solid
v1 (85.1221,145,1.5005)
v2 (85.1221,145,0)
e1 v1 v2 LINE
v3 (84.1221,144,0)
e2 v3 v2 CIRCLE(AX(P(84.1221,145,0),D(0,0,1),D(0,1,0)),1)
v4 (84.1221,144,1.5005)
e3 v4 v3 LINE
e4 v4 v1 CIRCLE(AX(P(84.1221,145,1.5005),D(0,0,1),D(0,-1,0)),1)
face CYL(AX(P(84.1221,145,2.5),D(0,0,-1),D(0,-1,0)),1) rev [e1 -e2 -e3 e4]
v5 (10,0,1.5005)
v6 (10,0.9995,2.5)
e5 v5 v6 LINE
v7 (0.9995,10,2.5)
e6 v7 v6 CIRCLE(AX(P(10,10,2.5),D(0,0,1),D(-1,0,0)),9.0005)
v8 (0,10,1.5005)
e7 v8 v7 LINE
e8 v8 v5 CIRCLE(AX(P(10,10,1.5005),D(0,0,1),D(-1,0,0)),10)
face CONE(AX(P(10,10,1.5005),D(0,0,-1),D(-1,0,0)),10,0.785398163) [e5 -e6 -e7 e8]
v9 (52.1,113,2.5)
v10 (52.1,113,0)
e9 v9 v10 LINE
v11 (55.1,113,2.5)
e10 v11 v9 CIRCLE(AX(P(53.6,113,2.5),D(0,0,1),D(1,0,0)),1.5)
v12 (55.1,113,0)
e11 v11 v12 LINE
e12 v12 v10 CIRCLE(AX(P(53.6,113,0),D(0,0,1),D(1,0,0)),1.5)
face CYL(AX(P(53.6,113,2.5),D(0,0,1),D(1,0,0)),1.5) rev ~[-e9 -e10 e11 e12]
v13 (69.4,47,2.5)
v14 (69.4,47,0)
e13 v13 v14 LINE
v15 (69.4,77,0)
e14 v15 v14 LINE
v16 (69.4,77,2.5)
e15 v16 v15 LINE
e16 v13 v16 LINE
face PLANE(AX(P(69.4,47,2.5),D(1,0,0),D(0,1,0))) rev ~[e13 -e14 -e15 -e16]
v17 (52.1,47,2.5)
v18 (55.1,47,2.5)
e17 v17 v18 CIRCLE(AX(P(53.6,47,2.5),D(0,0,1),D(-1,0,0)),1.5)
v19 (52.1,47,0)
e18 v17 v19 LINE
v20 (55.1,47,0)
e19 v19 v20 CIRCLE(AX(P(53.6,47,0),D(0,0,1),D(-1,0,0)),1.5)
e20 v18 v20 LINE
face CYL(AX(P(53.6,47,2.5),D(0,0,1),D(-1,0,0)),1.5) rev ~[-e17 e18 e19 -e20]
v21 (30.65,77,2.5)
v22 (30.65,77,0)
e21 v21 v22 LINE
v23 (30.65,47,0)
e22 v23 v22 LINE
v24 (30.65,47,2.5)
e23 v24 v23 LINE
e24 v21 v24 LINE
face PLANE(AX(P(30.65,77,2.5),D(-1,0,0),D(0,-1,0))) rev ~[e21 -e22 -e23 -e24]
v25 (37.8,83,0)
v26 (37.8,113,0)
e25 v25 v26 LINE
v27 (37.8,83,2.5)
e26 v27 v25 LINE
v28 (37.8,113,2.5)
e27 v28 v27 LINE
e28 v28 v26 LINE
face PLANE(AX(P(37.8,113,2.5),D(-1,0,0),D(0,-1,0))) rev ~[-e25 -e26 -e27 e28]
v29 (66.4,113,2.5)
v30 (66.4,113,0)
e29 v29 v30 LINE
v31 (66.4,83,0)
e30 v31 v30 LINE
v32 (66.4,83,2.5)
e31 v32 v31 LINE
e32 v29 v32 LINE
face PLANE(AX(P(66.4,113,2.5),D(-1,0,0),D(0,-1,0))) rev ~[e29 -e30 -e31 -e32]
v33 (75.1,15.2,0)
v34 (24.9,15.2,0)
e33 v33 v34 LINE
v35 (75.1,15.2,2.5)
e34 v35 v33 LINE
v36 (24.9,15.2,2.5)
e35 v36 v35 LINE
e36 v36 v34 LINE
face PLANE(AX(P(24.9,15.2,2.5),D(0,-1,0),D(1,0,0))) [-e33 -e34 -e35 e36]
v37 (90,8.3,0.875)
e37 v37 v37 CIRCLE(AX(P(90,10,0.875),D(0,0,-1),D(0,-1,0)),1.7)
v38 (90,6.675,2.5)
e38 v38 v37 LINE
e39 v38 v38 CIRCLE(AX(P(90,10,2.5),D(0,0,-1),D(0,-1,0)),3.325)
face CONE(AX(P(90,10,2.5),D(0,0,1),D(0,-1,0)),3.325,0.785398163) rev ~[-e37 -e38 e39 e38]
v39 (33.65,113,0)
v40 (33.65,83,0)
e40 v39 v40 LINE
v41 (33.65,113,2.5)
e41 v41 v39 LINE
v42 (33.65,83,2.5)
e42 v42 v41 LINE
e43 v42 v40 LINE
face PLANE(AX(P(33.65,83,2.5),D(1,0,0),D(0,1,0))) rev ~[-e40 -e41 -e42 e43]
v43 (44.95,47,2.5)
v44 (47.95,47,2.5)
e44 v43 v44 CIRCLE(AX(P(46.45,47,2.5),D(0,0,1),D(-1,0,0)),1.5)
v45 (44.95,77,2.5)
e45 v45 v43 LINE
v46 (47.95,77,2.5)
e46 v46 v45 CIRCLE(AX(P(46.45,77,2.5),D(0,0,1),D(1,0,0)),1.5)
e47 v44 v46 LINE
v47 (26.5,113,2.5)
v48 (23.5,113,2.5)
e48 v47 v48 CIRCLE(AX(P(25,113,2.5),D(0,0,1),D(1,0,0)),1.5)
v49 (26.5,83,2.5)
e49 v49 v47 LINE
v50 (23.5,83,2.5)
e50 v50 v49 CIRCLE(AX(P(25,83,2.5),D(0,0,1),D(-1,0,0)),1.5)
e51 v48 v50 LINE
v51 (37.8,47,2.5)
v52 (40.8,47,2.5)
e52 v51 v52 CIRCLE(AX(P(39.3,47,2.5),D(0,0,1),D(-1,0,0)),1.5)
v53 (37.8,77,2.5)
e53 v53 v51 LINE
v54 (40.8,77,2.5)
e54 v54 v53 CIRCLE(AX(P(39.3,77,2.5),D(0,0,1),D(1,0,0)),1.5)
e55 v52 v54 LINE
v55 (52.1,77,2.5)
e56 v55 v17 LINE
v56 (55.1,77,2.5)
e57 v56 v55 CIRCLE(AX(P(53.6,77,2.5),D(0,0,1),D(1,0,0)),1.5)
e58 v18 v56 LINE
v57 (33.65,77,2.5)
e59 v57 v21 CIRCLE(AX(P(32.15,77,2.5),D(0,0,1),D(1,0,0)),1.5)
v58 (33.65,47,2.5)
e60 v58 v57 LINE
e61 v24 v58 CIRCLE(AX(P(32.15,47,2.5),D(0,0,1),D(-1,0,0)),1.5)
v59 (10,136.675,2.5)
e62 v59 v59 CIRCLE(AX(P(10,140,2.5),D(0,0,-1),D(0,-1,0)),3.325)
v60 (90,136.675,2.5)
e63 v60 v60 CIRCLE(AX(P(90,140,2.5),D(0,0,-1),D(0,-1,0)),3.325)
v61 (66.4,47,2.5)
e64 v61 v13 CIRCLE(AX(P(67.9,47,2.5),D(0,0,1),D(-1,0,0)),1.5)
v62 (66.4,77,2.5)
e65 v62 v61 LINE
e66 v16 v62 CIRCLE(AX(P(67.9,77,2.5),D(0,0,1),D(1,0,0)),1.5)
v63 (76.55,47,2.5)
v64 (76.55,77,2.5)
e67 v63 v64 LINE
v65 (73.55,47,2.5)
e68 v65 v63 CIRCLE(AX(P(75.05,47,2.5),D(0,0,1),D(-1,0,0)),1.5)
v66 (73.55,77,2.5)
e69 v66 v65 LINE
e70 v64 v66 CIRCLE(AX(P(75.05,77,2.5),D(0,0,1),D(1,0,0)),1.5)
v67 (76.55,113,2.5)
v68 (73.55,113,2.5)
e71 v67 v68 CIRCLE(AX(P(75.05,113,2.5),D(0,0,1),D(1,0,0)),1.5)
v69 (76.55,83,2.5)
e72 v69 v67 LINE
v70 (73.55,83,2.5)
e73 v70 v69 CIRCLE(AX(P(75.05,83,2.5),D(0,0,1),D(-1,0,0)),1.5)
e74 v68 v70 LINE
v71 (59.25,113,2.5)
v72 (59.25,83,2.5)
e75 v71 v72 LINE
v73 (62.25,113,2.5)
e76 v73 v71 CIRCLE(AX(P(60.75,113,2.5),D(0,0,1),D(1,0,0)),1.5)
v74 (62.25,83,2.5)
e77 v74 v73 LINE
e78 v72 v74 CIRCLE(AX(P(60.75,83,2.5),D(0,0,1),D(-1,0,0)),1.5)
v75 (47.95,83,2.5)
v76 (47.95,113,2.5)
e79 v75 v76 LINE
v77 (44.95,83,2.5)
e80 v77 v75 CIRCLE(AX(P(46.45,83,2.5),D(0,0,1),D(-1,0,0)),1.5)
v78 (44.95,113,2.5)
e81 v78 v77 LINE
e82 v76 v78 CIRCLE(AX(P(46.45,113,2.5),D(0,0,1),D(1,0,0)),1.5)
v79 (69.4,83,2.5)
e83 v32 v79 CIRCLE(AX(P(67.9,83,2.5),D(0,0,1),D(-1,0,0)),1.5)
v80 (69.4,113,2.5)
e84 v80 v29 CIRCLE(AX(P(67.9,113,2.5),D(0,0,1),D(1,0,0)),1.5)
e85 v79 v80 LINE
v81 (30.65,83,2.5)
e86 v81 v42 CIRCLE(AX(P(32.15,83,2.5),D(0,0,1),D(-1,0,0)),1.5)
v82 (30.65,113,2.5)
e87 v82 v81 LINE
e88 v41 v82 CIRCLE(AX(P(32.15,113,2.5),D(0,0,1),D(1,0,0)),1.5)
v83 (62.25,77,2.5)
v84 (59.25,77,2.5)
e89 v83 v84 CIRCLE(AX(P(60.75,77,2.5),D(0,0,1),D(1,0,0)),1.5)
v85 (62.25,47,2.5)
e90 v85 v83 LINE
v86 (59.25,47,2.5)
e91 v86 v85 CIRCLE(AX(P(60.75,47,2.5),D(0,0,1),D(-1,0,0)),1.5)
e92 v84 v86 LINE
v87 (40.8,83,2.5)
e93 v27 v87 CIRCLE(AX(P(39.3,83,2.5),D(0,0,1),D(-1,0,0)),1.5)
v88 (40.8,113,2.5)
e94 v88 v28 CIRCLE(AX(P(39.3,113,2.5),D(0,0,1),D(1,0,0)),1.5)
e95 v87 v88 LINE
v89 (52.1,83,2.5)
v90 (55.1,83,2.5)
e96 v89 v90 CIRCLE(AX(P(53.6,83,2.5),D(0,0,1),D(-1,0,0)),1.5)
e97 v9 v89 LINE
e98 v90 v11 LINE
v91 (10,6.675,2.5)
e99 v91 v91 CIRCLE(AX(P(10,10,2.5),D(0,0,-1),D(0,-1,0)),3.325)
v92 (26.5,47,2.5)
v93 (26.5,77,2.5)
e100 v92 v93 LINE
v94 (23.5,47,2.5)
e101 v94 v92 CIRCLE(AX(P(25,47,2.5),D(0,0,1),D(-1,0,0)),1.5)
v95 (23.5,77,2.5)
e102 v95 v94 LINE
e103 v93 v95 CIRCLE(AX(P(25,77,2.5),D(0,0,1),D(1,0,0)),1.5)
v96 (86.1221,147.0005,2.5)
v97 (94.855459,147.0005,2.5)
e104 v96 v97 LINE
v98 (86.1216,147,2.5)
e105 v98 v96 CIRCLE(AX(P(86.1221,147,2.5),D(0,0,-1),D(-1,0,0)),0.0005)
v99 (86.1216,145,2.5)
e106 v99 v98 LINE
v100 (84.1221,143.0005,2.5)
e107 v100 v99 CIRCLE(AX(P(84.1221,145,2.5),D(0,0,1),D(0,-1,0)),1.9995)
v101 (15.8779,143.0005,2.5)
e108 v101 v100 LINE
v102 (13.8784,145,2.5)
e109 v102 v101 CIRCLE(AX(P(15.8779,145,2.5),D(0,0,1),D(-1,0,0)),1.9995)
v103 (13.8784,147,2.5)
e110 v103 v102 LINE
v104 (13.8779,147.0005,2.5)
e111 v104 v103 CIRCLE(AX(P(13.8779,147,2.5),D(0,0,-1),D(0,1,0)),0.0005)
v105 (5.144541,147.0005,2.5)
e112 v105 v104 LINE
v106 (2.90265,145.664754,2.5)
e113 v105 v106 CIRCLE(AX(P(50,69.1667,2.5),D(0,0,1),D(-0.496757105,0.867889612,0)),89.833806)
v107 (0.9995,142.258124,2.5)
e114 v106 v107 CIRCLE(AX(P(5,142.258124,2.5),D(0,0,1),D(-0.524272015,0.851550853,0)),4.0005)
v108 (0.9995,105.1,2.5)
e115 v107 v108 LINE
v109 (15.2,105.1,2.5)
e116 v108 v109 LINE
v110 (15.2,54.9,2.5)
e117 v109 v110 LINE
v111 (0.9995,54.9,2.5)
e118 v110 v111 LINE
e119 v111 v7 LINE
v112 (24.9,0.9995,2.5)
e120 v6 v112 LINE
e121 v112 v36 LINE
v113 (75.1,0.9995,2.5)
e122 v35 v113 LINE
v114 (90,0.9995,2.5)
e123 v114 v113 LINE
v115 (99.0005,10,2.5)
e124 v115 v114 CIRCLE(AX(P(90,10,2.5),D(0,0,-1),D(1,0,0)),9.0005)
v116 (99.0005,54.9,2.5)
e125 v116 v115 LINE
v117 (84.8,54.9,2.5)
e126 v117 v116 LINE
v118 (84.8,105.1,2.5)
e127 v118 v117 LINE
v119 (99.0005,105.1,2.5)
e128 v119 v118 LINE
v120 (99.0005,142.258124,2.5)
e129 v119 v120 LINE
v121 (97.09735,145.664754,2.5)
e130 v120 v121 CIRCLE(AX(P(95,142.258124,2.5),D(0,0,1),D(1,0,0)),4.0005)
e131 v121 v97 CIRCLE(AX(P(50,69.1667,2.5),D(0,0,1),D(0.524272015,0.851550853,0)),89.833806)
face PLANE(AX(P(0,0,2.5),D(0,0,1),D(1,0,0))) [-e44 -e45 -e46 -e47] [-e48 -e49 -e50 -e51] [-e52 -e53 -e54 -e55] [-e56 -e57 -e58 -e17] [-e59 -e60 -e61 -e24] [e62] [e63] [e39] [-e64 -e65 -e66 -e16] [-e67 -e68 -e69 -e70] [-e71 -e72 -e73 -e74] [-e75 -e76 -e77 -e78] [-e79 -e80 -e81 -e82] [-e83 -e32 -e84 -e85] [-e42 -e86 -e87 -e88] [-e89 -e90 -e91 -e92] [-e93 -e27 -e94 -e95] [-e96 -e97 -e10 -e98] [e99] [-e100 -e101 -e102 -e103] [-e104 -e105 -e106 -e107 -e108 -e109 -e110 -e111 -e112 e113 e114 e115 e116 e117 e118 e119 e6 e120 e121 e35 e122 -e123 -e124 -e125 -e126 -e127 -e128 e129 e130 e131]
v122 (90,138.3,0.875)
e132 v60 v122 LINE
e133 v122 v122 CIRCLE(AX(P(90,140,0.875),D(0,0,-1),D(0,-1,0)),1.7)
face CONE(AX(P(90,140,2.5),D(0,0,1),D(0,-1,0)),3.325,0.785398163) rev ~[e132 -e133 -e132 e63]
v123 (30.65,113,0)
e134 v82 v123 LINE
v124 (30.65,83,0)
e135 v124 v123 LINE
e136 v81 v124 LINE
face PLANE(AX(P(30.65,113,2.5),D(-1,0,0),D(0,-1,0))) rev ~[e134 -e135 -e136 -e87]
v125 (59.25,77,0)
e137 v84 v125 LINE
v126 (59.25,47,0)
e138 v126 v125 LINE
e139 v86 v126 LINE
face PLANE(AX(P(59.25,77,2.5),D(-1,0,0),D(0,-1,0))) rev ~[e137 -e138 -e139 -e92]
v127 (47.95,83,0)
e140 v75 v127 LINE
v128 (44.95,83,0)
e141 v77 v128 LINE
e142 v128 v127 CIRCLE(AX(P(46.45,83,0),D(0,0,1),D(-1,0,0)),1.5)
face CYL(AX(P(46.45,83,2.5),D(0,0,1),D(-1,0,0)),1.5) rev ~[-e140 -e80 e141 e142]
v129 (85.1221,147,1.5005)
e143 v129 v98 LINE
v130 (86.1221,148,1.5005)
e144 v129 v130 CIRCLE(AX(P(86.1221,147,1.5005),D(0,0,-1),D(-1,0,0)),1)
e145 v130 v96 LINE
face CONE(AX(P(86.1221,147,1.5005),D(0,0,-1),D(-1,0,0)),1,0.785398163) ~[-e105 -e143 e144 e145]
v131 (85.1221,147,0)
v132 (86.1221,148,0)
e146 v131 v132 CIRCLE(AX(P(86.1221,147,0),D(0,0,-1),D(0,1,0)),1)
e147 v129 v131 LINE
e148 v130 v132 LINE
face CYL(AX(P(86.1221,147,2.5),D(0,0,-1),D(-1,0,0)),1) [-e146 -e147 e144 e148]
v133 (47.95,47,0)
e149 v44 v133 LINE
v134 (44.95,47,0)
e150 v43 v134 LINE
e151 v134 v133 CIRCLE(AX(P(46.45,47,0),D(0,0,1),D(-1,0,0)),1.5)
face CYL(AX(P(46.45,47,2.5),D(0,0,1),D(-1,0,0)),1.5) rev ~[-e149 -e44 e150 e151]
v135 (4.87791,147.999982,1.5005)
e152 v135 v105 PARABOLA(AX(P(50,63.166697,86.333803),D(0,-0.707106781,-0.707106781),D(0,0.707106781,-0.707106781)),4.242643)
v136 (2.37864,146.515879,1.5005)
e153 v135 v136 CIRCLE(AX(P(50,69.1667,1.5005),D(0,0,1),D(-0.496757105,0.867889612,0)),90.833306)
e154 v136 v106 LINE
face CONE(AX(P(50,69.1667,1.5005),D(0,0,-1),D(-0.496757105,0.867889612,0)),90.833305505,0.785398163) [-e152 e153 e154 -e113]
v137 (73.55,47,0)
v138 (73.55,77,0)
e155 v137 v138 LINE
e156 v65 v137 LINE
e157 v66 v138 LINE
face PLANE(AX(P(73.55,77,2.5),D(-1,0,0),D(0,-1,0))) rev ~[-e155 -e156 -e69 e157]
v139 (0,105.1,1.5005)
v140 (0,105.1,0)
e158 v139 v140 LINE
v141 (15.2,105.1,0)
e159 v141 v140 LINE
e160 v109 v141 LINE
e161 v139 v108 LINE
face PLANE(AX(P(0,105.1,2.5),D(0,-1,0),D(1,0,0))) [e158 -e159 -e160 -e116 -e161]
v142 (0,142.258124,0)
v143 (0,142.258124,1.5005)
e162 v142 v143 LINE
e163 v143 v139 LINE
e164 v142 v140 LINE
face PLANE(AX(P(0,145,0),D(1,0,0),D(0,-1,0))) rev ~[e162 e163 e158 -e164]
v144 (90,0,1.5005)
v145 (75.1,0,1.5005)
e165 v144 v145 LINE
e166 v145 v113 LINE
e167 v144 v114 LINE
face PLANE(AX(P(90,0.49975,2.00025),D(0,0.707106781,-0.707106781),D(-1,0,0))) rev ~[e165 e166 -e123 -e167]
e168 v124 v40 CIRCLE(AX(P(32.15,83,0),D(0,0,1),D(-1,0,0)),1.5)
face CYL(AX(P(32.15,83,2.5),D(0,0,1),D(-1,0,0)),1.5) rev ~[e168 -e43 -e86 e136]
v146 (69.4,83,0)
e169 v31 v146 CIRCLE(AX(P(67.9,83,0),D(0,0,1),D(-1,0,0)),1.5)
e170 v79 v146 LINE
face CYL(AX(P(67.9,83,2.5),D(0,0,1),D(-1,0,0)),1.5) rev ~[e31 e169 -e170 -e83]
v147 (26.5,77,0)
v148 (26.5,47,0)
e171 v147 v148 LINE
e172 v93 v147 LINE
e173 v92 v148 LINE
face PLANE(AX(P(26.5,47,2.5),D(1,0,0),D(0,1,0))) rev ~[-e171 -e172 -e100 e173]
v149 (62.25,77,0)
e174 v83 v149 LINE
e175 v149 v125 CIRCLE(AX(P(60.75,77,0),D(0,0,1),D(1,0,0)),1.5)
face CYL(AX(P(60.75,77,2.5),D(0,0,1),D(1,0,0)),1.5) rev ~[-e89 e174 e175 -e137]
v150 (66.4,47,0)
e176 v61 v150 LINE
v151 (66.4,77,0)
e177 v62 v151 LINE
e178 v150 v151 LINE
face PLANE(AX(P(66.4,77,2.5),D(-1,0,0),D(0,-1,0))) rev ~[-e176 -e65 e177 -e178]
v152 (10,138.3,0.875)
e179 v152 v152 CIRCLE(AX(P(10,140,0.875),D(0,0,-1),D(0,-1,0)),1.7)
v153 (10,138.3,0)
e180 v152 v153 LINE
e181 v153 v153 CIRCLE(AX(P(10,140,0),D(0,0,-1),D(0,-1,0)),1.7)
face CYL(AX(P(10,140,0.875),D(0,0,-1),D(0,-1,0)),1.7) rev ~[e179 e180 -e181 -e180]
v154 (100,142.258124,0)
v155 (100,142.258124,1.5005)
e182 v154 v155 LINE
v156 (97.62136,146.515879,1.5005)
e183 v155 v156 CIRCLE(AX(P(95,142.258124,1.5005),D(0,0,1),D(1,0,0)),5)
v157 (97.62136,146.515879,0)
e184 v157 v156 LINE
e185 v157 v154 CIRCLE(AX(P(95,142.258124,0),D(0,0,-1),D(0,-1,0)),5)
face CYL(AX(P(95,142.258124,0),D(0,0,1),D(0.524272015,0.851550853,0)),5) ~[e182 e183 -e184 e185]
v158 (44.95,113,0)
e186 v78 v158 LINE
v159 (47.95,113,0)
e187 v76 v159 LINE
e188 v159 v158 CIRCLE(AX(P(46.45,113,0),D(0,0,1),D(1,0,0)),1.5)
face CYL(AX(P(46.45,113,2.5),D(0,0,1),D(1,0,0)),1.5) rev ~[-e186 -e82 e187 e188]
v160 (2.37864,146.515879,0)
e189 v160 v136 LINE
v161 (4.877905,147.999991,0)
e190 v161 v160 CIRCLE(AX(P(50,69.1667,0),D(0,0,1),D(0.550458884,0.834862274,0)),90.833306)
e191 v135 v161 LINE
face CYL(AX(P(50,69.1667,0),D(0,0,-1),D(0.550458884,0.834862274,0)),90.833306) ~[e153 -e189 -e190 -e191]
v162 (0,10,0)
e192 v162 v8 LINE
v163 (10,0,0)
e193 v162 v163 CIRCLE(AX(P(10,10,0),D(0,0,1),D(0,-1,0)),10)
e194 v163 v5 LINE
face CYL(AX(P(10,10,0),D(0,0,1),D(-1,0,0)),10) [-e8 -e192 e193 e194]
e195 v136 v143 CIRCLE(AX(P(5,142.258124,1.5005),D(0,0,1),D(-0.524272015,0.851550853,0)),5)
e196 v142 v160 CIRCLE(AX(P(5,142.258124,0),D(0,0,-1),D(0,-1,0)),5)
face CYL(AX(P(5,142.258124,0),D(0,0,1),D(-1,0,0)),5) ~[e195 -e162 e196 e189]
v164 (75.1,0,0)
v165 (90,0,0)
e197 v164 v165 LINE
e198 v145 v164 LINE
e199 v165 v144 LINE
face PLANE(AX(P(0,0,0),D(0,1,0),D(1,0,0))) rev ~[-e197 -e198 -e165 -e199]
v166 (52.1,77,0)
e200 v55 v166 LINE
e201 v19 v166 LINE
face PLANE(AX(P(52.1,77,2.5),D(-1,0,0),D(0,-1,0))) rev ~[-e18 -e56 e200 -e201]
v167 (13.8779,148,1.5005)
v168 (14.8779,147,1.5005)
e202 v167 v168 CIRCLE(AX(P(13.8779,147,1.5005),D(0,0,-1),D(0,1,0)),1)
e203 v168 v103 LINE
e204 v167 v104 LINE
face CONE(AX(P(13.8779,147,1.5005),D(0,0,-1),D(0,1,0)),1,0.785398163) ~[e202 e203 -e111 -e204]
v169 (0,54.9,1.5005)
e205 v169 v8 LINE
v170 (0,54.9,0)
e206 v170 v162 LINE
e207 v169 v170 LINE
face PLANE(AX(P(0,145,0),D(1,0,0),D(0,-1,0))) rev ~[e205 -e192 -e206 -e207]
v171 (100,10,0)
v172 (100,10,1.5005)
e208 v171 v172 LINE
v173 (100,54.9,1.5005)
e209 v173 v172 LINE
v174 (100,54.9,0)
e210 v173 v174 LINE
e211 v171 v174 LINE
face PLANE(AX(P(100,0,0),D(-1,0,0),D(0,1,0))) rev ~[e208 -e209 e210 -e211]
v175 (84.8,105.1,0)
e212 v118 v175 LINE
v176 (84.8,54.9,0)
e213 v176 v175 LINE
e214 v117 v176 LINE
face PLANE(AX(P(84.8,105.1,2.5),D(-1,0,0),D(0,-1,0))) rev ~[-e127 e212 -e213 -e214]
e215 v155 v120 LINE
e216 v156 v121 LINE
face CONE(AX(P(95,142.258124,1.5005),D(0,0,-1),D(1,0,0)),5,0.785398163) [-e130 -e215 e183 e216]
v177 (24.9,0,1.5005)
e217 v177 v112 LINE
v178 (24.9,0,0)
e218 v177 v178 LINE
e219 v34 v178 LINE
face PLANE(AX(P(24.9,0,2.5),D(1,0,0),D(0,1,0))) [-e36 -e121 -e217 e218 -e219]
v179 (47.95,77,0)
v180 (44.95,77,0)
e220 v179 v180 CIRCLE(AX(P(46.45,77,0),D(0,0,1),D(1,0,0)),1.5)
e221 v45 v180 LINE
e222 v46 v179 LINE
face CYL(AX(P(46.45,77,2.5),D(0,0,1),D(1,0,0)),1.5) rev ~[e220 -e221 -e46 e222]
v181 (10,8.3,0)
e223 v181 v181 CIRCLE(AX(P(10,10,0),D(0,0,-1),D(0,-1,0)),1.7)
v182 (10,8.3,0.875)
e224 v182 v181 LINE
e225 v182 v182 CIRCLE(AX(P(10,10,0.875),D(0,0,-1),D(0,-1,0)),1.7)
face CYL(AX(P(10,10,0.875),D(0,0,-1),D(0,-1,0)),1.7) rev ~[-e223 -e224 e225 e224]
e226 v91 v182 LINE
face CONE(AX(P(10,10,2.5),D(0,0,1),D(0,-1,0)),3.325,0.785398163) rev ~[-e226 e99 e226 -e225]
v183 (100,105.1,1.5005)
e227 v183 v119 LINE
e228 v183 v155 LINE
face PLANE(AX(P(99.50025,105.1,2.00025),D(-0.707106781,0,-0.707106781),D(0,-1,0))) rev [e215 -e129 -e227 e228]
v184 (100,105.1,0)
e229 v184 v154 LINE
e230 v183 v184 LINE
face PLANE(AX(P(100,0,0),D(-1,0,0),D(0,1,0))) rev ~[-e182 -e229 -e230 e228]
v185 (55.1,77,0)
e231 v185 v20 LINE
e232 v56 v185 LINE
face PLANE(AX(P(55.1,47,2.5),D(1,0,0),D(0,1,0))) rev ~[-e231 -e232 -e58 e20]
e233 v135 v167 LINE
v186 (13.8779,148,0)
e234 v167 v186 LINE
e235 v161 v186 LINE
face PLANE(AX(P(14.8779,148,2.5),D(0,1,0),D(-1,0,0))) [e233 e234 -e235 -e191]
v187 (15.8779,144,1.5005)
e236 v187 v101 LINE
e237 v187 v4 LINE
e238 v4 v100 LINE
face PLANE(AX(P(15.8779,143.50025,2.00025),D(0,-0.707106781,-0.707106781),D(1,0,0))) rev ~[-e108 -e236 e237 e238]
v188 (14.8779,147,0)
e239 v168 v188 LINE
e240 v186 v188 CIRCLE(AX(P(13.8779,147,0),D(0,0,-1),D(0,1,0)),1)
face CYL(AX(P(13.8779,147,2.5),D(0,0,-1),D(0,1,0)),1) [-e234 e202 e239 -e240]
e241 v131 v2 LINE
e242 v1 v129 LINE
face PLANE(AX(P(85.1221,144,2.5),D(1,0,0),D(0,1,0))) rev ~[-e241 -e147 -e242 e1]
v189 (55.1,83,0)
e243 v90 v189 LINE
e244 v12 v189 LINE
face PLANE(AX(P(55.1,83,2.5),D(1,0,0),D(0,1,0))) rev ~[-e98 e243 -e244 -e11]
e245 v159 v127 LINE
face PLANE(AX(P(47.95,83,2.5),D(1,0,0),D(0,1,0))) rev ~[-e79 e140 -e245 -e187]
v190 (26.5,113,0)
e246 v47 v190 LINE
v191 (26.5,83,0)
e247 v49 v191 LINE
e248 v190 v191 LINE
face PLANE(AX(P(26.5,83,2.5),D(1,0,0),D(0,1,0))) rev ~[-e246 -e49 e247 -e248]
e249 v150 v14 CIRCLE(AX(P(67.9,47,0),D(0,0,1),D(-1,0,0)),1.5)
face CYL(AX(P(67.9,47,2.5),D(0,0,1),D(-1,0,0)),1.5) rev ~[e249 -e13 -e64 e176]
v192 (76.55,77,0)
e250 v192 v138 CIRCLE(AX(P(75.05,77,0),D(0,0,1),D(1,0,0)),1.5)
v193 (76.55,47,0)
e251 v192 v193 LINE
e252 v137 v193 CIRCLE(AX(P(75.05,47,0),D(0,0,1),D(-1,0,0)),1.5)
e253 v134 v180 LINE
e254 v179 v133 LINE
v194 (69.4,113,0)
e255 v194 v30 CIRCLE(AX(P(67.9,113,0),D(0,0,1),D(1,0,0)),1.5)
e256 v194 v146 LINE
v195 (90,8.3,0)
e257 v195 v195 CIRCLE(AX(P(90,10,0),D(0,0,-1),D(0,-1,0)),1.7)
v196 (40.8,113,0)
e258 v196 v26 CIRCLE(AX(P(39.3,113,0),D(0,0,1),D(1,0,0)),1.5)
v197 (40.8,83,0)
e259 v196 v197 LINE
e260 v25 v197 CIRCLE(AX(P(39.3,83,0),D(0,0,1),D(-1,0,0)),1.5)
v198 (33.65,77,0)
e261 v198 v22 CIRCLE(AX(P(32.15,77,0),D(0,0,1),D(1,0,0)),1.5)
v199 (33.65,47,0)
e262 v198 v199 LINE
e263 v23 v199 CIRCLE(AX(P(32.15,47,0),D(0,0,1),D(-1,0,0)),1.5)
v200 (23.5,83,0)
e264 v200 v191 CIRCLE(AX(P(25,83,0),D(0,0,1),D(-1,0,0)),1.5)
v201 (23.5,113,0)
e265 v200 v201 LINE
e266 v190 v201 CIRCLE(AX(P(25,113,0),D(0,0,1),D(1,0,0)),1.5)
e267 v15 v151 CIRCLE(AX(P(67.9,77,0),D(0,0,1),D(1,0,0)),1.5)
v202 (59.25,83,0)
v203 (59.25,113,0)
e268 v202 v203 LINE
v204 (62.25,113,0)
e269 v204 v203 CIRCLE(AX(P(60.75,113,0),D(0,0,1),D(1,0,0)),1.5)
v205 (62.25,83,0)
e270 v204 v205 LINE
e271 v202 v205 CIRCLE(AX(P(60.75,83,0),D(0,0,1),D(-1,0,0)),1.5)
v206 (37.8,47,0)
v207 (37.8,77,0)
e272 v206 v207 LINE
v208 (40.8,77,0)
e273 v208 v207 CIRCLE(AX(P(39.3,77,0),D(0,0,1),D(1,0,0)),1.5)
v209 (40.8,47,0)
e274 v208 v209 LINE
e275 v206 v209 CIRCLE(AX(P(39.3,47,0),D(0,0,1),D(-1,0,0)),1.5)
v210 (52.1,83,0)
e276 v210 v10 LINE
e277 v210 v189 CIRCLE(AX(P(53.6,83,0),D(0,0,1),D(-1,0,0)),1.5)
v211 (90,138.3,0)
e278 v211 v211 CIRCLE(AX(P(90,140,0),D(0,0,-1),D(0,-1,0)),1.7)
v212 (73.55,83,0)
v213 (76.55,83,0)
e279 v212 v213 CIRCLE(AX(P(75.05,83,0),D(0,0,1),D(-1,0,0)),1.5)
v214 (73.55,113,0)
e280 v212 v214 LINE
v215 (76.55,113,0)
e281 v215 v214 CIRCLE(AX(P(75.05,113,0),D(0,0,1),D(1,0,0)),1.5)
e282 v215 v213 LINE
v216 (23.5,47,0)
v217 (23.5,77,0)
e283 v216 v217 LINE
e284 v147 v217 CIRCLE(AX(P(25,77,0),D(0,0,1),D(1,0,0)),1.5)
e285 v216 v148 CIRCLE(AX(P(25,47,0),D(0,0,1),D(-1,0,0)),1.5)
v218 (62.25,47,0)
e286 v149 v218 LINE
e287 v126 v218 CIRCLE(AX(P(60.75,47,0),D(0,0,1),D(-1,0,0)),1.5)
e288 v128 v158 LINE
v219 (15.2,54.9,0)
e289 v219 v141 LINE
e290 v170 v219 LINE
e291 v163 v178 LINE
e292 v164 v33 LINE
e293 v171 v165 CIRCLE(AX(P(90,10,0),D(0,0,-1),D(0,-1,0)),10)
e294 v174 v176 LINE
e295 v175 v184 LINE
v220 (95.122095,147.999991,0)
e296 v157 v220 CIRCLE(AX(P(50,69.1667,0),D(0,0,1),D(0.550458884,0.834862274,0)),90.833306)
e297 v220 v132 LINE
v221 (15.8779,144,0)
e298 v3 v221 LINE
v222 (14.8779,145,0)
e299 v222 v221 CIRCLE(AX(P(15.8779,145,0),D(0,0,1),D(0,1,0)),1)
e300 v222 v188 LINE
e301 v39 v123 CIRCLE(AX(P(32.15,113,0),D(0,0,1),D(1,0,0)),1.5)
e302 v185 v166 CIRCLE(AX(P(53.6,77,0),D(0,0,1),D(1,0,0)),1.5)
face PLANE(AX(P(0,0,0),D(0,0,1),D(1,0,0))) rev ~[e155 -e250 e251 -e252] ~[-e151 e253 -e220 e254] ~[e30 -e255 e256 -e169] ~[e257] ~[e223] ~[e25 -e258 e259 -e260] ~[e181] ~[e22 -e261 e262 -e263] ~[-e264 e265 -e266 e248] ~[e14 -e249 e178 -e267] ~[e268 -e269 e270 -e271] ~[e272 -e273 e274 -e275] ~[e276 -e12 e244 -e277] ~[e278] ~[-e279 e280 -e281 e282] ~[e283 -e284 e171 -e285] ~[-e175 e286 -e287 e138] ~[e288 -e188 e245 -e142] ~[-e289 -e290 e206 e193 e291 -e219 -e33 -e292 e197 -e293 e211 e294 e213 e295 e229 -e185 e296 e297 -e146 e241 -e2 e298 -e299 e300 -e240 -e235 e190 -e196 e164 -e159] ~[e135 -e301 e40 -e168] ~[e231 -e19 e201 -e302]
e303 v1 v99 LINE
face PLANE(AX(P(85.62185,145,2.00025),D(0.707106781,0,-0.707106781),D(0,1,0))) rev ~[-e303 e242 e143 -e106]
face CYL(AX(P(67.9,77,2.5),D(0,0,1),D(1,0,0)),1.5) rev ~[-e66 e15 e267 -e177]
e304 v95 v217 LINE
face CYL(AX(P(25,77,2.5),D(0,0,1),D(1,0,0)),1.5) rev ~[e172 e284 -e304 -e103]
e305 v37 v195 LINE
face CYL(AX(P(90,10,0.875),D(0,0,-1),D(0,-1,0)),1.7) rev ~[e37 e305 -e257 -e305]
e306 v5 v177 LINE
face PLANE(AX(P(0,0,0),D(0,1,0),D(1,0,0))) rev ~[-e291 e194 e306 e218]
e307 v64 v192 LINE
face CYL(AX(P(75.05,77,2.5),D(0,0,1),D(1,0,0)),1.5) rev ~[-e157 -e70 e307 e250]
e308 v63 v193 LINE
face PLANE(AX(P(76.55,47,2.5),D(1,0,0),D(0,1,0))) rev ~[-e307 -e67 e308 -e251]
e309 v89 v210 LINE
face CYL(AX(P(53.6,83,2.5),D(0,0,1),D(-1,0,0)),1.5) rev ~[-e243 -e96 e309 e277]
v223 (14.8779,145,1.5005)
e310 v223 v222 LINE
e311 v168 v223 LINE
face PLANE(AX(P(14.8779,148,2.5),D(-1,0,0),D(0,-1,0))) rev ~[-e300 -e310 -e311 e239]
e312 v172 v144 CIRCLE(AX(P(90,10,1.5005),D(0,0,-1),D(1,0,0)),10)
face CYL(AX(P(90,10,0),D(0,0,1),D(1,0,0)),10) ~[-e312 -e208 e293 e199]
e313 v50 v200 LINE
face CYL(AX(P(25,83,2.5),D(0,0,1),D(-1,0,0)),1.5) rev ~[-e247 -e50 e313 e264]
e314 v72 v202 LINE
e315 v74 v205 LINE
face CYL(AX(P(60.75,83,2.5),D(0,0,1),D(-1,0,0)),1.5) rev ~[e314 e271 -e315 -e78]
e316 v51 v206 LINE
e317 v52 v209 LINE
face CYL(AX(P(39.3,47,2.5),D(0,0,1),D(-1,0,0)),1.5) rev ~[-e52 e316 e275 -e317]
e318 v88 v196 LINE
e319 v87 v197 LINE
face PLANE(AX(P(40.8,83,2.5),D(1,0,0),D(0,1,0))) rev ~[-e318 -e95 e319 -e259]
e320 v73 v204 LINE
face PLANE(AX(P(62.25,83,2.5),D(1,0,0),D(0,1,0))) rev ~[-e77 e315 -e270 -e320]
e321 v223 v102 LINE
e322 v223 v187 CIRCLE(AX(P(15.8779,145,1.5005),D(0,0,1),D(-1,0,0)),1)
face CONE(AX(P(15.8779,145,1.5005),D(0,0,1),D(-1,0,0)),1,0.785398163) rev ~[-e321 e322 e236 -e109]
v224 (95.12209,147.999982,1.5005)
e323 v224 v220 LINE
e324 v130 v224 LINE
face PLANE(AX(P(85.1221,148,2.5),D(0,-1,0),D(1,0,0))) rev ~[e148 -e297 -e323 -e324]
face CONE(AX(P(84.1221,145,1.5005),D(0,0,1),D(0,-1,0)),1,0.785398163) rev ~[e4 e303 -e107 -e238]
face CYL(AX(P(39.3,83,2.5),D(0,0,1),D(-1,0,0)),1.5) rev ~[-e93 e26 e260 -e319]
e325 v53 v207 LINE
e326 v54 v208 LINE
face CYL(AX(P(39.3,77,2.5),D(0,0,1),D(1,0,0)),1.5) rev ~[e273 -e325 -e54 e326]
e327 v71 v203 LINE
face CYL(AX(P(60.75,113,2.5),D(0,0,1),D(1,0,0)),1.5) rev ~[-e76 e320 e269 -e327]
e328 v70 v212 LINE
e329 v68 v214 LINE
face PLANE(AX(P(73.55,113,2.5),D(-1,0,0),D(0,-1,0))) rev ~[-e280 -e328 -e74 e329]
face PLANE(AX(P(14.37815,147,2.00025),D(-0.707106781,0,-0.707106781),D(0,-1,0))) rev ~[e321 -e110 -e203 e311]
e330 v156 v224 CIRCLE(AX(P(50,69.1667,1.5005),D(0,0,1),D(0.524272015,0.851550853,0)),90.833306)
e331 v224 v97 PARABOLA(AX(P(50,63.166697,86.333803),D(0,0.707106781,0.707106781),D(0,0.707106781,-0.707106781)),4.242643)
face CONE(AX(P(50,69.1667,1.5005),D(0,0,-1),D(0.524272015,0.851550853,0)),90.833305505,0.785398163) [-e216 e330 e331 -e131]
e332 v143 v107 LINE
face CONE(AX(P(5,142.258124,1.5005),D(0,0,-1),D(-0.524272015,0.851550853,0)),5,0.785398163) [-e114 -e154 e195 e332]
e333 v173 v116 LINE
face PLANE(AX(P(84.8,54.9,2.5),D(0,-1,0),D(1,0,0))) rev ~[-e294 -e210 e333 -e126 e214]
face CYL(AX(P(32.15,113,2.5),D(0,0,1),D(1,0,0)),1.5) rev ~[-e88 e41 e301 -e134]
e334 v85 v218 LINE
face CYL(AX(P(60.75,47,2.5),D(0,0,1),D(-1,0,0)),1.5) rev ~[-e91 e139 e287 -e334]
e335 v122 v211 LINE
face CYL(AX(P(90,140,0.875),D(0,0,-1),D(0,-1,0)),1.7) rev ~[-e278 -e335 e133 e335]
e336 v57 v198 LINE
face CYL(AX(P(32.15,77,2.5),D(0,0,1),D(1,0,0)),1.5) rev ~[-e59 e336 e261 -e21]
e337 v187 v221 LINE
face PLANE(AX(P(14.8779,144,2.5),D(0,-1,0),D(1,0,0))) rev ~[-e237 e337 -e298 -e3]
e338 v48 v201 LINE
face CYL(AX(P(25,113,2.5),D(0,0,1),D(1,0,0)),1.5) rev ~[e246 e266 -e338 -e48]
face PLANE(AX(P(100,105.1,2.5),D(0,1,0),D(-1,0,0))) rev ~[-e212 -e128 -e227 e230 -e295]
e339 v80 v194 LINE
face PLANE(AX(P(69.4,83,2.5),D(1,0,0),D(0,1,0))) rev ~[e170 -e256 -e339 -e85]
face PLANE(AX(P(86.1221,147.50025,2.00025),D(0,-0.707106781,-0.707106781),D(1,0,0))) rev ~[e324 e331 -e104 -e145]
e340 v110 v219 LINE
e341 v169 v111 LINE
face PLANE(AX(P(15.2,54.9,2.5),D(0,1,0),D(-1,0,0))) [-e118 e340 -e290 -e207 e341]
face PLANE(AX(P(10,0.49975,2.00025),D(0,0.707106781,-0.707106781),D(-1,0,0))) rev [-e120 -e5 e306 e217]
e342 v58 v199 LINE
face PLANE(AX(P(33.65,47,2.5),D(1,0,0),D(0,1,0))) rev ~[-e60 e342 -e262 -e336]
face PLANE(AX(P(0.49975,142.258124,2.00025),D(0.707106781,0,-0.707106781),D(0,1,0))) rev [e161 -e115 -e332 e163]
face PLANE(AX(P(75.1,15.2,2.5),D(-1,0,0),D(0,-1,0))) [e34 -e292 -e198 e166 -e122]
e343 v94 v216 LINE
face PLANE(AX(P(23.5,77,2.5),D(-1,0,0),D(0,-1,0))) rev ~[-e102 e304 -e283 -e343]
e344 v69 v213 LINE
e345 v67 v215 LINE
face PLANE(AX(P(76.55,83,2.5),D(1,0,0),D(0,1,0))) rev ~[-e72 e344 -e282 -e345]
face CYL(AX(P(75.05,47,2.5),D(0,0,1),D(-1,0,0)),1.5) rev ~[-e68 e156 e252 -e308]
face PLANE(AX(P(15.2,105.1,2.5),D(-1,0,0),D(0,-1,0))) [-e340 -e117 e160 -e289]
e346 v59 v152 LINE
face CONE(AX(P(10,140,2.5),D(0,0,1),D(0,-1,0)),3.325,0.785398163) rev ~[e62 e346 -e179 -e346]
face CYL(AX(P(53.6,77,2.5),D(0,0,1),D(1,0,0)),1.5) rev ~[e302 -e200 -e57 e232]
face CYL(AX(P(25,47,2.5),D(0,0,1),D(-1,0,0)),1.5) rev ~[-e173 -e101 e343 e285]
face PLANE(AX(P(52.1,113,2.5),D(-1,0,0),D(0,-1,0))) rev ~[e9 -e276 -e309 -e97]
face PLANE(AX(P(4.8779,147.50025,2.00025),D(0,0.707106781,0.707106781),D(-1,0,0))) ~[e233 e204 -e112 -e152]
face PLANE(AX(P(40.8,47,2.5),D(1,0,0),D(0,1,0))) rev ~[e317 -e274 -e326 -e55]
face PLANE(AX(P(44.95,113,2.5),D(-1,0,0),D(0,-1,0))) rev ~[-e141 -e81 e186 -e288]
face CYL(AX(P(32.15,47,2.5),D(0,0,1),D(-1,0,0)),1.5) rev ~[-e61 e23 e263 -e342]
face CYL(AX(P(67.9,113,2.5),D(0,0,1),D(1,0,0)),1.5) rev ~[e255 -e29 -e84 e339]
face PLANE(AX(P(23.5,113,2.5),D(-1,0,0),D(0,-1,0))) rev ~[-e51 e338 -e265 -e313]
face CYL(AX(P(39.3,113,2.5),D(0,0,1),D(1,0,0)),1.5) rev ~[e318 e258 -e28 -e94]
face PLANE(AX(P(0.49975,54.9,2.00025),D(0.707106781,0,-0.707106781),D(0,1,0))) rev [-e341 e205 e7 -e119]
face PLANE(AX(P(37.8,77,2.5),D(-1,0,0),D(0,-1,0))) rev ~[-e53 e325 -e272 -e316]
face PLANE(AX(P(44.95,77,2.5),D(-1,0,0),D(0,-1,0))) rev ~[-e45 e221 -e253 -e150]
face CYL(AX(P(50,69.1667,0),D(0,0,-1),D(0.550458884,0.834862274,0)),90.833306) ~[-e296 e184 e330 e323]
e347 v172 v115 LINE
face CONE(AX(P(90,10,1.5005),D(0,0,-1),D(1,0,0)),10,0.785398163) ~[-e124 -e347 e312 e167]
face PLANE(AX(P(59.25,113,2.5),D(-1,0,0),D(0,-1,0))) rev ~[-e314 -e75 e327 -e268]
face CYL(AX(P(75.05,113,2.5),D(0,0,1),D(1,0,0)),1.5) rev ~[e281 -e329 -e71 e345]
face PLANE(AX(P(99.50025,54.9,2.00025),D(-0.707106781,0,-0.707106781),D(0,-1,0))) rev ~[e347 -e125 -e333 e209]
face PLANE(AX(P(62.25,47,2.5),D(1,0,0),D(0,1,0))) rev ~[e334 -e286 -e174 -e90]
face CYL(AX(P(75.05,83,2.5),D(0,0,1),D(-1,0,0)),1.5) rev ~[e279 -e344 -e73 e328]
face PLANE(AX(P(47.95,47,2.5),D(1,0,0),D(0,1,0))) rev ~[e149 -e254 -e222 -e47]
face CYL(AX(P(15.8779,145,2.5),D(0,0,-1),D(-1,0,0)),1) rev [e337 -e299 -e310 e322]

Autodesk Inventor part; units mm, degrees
ref_plane "YZ Plane" through (0, 0, 0) normal (1, 0, 0) x (0, 1, 0)
ref_plane "XZ Plane" through (0, 0, 0) normal (0, 1, 0) x (-1, 0, 0)
ref_plane "XY Plane" through (0, 0, 0) normal (0, 0, 1) x (1, 0, 0)
sketch "Skizze1" plane through (0, 0, 0) normal (0, 0, 1) x (1, 0, 0)
  line L0 (0, 0) -> (100, 0)
  line L1 (100, 0) -> (100, 145)
  line L2 (0, 145) -> (0, 0)
  arc A0 (100, 145) -> (0, 145) centre (50, 69.1667) ccw
  dimension "d0" = 145
  dimension "d1" = 100
extrude "Extrusion1" add sketch "Skizze1" along normal blind 2.5
fillet "Rundung2" radius 10 2 edges at (100, 0, 1.25) (0, 0, 1.25)
fillet "Rundung3" radius 5 2 edges at (100, 145, 1.25) (0, 145, 1.25)
sketch "Skizze3" plane through (0, 0, 0) normal (0, 0, -1) x (-1, 0, 0)
  line L0 (-10, 0) -> (-90, 0) projected
  line L1 (0, 142.2581) -> (0, 10) projected
  circle A0 centre (-90, 10) radius 1.5
  circle A1 centre (-10, 10) radius 1.5
  circle A2 centre (-10, 140) radius 1.5
  circle A3 centre (-90, 140) radius 1.5
  point P0 (0, 0)
  dimension "d12" = 3
  dimension "d14" = 3
  dimension "d19" = 3
  dimension "d22" = 3
  dimension "d23" = 140
  dimension "d25" = 140
  dimension "d30" = 10
  dimension "d33" = 10
  dimension "d34" = 90
  dimension "d37" = 10
  dimension "d42" = 90
  dimension "d44" = 10
extrude "Extrusion2" cut sketch "Skizze3" against normal up to next
sketch "Skizze10" plane through (0, 0, 2.5) normal (0, 0, 1) x (1, 0, 0)
  line L0 (0, 142.2581) -> (0, 10) projected
  line L1 (10, 0) -> (90, 0) projected
  line L2 (100, 10) -> (100, 142.2581) projected
  arc A0 (97.6214, 146.5159) -> (2.3786, 146.5159) centre (50, 69.1667) ccw projected
  line L3 (5, 110) -> (20, 110)
  line L4 (14.8779, 148) -> (14.8779, 144)
  line L5 (14.8779, 144) -> (85.1221, 144)
  line L6 (85.1221, 144) -> (85.1221, 148)
  line L7 (14.8779, 148) -> (4.8779, 148)
  line L8 (85.1221, 148) -> (95.1221, 148)
  line L9 (0, 105.05) -> (15.1, 105.05)
  line L10 (15.1, 105.05) -> (15.1, 54.95)
  line L11 (15.1, 54.95) -> (0, 54.95)
  line L12 (100, 105.05) -> (84.9, 105.05)
  line L13 (84.9, 105.05) -> (84.9, 54.95)
  line L14 (84.9, 54.95) -> (100, 54.95)
  line L15 (24.95, 0) -> (24.95, 15.1)
  line L16 (24.95, 15.1) -> (75.05, 15.1)
  line L17 (75.05, 15.1) -> (75.05, 0)
  point P0 (0, 0)
  dimension "d154" = 4
  dimension "d155" = 4
  dimension "d162" = 15.1
  dimension "d163" = 50.1
  dimension "d164" = 15.1
  dimension "d165" = 50.1
  dimension "d167" = 4.95
  dimension "d168" = 15.1
  dimension "d171" = 50.1
  dimension "d191" = 10
  dimension "d192" = 10
extrude "Extrusion11" cut sketch "Skizze10" against normal up to next
fillet "Rundung9" radius 1 4 edges at (14.8779, 148, 1.25) (85.1221, 148, 1.25) (85.1221, 144, 1.25) (14.8779, 144, 1.25)
sketch "Skizze12" plane through (0, 0, 2.5) normal (0, 0, 1) x (1, 0, 0)
  line L0 (85.1221, 147) -> (85.1221, 145) projected
  line L1 (0, 142.2581) -> (0, 105.05) projected
  line L2 (10, 0) -> (24.95, 0) projected
  line L3 (25, 113) -> (25, 83) construction
  line L4 (23.5, 113) -> (23.5, 83)
  line L5 (26.5, 83) -> (26.5, 113)
  arc A0 (26.5, 113) -> (23.5, 113) centre (25, 113) ccw
  arc A1 (23.5, 83) -> (26.5, 83) centre (25, 83) ccw
  line L6 (25, 77) -> (25, 47) construction
  line L7 (23.5, 77) -> (23.5, 47)
  line L8 (26.5, 47) -> (26.5, 77)
  arc A2 (26.5, 77) -> (23.5, 77) centre (25, 77) ccw
  arc A3 (23.5, 47) -> (26.5, 47) centre (25, 47) ccw
  point P0 (0, 0)
  point P1 (25, 98)
  point P2 (25, 62)
  dimension "d239" = 30
  dimension "d240" = 30
  dimension "d241" = 6
  dimension "d242" = 3
  dimension "d243" = 3
  dimension "d244" = 47
  dimension "d245" = 25
  dimension "d246" = 25
extrude "Extrusion13" cut sketch "Skizze12" against normal up to next
pattern_linear "Rechteckige Anordnung1" count 8 spacing 7.15 along (1, 0, 0) of "Extrusion13"
chamfer "Fase1" [suppressed]
sketch "Skizze13" plane through (0, 0, 2.5) normal (0, 0, 1) x (1, 0, 0)
  line L0 (24, 41) -> (28, 41)
  line L1 (28, 41) -> (28, 37)
  line L2 (28, 37) -> (24, 37)
  line L3 (24, 37) -> (24, 41)
  line L4 (72, 41) -> (76, 41)
  line L5 (76, 41) -> (76, 37)
  line L6 (76, 37) -> (72, 37)
  line L7 (72, 37) -> (72, 41)
  line L8 (24, 56) -> (28, 56)
  line L9 (28, 56) -> (28, 52)
  line L10 (28, 52) -> (24, 52)
  line L11 (24, 52) -> (24, 56)
  line L12 (72, 52) -> (76, 52)
  line L13 (76, 52) -> (76, 56)
  line L14 (76, 56) -> (72, 56)
  line L15 (72, 56) -> (72, 52)
  line L16 (10, 0) -> (24.95, 0) projected
  line L17 (75.05, 0) -> (90, 0) projected
  line L18 (0, 54.95) -> (0, 10) projected
  line L19 (100, 10) -> (100, 54.95) projected
  point P0 (0, 0)
  dimension "d291" = 4
  dimension "d292" = 4
  dimension "d293" = 4
  dimension "d294" = 4
  dimension "d297" = 4
  dimension "d298" = 4
  dimension "d299" = 41
  dimension "d300" = 41
  dimension "d301" = 24
  dimension "d302" = 24
  dimension "d303" = 4
  dimension "d304" = 4
  dimension "d305" = 24
  dimension "d306" = 24
  dimension "d307" = 11
  dimension "d308" = 11
extrude "Extrusion14" [suppressed]
fillet "Rundung10" [suppressed]
sketch "Skizze14" plane through (0, 0, 2.5) normal (0, 0, 1) x (1, 0, 0)
  line L0 (28, 52) -> (26.5, 52) projected
  line L1 (26.5, 77) -> (26.5, 47) projected
  arc A0 (23.5, 47) -> (26.5, 47) centre (25, 47) ccw projected
  line L2 (23.5, 47) -> (23.5, 77) projected
  arc A1 (26.5, 77) -> (23.5, 77) centre (25, 77) ccw projected
  line L3 (26.5, 77) -> (26.5, 47) projected
  line L4 (26.5, 56) -> (28, 56) projected
  line L5 (28, 56) -> (28, 52) projected
  line L6 (72, 56) -> (73.55, 56) projected
  line L7 (73.55, 47) -> (73.55, 77) projected
  arc A2 (76.55, 77) -> (73.55, 77) centre (75.05, 77) ccw projected
  line L8 (76.55, 77) -> (76.55, 47) projected
  arc A3 (73.55, 47) -> (76.55, 47) centre (75.05, 47) ccw projected
  line L9 (73.55, 47) -> (73.55, 77) projected
  line L10 (73.55, 52) -> (72, 52) projected
  line L11 (72, 52) -> (72, 56) projected
  line L12 (25, 77) -> (25, 62) construction
  line L13 (23.5, 77) -> (23.5, 62)
  line L14 (26.5, 62) -> (26.5, 77)
  arc A4 (26.5, 77) -> (23.5, 77) centre (25, 77) ccw
  arc A5 (23.5, 62) -> (26.5, 62) centre (25, 62) ccw
  line L15 (75.05, 77) -> (75.05, 62) construction
  line L16 (73.55, 77) -> (73.55, 62)
  line L17 (76.55, 62) -> (76.55, 77)
  arc A6 (76.55, 77) -> (73.55, 77) centre (75.05, 77) ccw
  arc A7 (73.55, 62) -> (76.55, 62) centre (75.05, 62) ccw
  circle A8 centre (25, 47) radius 1.5
  circle A9 centre (75.05, 47) radius 1.5
  line L18 (26.5, 62) -> (26.5, 47)
  line L19 (23.5, 47) -> (23.5, 62)
  line L20 (76.55, 62) -> (76.55, 47)
  line L21 (73.55, 47) -> (73.55, 62)
  point P0 (0, 0)
  point P1 (25, 69.5)
  point P2 (75.05, 69.5)
  dimension "d312" = 15
  dimension "d313" = 15
extrude "Extrusion15" [suppressed]
fillet "Rundung11" [suppressed]
fillet "Rundung12" [suppressed]
sketch "Skizze15" plane through (0, 0, 2.5) normal (0, 0, 1) x (1, 0, 0)
  line L0 (0, 142.2581) -> (0, 105.05) projected
  line L1 (0, 105.05) -> (15.1, 105.05) projected
  line L2 (15.1, 105.05) -> (15.1, 54.95) projected
  line L3 (15.1, 54.95) -> (0, 54.95) projected
  line L4 (0, 54.95) -> (0, 10) projected
  line L5 (10, 0) -> (24.95, 0) projected
  line L6 (24.95, 0) -> (24.95, 15.1) projected
  line L7 (24.95, 15.1) -> (75.05, 15.1) projected
  line L8 (75.05, 15.1) -> (75.05, 0) projected
  line L9 (75.05, 0) -> (90, 0) projected
  line L10 (100, 10) -> (100, 54.95) projected
  line L11 (100, 54.95) -> (84.9, 54.95) projected
  line L12 (84.9, 54.95) -> (84.9, 105.05) projected
  line L13 (84.9, 105.05) -> (100, 105.05) projected
  line L14 (100, 105.05) -> (100, 142.2581) projected
  line L15 (95.1221, 148) -> (86.1221, 148) projected
  line L16 (0, 105.1) -> (15.2, 105.1)
  line L17 (15.2, 105.1) -> (15.2, 54.9)
  line L18 (15.2, 54.9) -> (0, 54.9)
  line L19 (100, 105.1) -> (84.8, 105.1)
  line L20 (84.8, 105.1) -> (84.8, 54.9)
  line L21 (84.8, 54.9) -> (100, 54.9)
  line L22 (24.9, 0) -> (24.9, 15.2)
  line L23 (24.9, 15.2) -> (75.1, 15.2)
  line L24 (75.1, 15.2) -> (75.1, 0)
  point P0 (0, 0)
  point P1 (0.5, 105.05)
  point P2 (0.5, 54.95)
  point P3 (24.95, 0.5)
  point P4 (75.05, 0.5)
  point P5 (99.5, 54.95)
  point P6 (99.5, 105.05)
  dimension "d318" = 0.05
  dimension "d319" = 0.05
  dimension "d320" = 0.1
  dimension "d321" = 0.05
  dimension "d322" = 0.05
  dimension "d323" = 0.1
  dimension "d324" = 0.05
  dimension "d325" = 0.05
  dimension "d326" = 0.1
extrude "Extrusion16" cut sketch "Skizze15" against normal up to next
chamfer "Fase2" distance 1 angle 45 21 edges at (0, 32.45, 2.5) (2.9289, 2.9289, 2.5) (17.45, 0, 2.5) (97.0711, 2.9289, 2.5) (82.55, 0, 2.5) (100, 32.45, 2.5) (100, 123.6791, 2.5) (99.365, 144.6967, 2.5) (96.3776, 147.2679, 2.5) (0, 123.6791, 2.5) (0.635, 144.6967, 2.5) (3.6224, 147.2679, 2.5) (50, 144, 2.5) (15.1708, 144.2929, 2.5) (14.8779, 146, 2.5) (14.5851, 147.7071, 2.5) (9.3779, 148, 2.5) (84.8292, 144.2929, 2.5) (85.1221, 146, 2.5) (85.4149, 147.7071, 2.5) (90.6221, 148, 2.5)
hole "Bohrung6" at (10, 10, 2.5) direction (0, 0, -1) diameter 3.4 end through all countersink diameter 6.65 countersink angle 90 clearance for "Senkschraube mit Linsenkopf ISO 2010" size "M3" standard "DIN"
hole "Bohrung7" at (90, 10, 2.5) direction (0, 0, -1) diameter 3.4 end through all countersink diameter 6.65 countersink angle 90 clearance for "Senkschraube mit Linsenkopf ISO 2010" size "M3" standard "DIN"
hole "Bohrung8" at (90, 140, 2.5) direction (0, 0, -1) diameter 3.4 end through all countersink diameter 6.65 countersink angle 90 clearance for "Senkschraube mit Linsenkopf ISO 2010" size "M3" standard "DIN"
hole "Bohrung9" at (10, 140, 2.5) direction (0, 0, -1) diameter 3.4 end through all countersink diameter 6.65 countersink angle 90 clearance for "Senkschraube mit Linsenkopf ISO 2010" size "M3" standard "DIN"
properties part number "Deckel_Motor2_liegend"
